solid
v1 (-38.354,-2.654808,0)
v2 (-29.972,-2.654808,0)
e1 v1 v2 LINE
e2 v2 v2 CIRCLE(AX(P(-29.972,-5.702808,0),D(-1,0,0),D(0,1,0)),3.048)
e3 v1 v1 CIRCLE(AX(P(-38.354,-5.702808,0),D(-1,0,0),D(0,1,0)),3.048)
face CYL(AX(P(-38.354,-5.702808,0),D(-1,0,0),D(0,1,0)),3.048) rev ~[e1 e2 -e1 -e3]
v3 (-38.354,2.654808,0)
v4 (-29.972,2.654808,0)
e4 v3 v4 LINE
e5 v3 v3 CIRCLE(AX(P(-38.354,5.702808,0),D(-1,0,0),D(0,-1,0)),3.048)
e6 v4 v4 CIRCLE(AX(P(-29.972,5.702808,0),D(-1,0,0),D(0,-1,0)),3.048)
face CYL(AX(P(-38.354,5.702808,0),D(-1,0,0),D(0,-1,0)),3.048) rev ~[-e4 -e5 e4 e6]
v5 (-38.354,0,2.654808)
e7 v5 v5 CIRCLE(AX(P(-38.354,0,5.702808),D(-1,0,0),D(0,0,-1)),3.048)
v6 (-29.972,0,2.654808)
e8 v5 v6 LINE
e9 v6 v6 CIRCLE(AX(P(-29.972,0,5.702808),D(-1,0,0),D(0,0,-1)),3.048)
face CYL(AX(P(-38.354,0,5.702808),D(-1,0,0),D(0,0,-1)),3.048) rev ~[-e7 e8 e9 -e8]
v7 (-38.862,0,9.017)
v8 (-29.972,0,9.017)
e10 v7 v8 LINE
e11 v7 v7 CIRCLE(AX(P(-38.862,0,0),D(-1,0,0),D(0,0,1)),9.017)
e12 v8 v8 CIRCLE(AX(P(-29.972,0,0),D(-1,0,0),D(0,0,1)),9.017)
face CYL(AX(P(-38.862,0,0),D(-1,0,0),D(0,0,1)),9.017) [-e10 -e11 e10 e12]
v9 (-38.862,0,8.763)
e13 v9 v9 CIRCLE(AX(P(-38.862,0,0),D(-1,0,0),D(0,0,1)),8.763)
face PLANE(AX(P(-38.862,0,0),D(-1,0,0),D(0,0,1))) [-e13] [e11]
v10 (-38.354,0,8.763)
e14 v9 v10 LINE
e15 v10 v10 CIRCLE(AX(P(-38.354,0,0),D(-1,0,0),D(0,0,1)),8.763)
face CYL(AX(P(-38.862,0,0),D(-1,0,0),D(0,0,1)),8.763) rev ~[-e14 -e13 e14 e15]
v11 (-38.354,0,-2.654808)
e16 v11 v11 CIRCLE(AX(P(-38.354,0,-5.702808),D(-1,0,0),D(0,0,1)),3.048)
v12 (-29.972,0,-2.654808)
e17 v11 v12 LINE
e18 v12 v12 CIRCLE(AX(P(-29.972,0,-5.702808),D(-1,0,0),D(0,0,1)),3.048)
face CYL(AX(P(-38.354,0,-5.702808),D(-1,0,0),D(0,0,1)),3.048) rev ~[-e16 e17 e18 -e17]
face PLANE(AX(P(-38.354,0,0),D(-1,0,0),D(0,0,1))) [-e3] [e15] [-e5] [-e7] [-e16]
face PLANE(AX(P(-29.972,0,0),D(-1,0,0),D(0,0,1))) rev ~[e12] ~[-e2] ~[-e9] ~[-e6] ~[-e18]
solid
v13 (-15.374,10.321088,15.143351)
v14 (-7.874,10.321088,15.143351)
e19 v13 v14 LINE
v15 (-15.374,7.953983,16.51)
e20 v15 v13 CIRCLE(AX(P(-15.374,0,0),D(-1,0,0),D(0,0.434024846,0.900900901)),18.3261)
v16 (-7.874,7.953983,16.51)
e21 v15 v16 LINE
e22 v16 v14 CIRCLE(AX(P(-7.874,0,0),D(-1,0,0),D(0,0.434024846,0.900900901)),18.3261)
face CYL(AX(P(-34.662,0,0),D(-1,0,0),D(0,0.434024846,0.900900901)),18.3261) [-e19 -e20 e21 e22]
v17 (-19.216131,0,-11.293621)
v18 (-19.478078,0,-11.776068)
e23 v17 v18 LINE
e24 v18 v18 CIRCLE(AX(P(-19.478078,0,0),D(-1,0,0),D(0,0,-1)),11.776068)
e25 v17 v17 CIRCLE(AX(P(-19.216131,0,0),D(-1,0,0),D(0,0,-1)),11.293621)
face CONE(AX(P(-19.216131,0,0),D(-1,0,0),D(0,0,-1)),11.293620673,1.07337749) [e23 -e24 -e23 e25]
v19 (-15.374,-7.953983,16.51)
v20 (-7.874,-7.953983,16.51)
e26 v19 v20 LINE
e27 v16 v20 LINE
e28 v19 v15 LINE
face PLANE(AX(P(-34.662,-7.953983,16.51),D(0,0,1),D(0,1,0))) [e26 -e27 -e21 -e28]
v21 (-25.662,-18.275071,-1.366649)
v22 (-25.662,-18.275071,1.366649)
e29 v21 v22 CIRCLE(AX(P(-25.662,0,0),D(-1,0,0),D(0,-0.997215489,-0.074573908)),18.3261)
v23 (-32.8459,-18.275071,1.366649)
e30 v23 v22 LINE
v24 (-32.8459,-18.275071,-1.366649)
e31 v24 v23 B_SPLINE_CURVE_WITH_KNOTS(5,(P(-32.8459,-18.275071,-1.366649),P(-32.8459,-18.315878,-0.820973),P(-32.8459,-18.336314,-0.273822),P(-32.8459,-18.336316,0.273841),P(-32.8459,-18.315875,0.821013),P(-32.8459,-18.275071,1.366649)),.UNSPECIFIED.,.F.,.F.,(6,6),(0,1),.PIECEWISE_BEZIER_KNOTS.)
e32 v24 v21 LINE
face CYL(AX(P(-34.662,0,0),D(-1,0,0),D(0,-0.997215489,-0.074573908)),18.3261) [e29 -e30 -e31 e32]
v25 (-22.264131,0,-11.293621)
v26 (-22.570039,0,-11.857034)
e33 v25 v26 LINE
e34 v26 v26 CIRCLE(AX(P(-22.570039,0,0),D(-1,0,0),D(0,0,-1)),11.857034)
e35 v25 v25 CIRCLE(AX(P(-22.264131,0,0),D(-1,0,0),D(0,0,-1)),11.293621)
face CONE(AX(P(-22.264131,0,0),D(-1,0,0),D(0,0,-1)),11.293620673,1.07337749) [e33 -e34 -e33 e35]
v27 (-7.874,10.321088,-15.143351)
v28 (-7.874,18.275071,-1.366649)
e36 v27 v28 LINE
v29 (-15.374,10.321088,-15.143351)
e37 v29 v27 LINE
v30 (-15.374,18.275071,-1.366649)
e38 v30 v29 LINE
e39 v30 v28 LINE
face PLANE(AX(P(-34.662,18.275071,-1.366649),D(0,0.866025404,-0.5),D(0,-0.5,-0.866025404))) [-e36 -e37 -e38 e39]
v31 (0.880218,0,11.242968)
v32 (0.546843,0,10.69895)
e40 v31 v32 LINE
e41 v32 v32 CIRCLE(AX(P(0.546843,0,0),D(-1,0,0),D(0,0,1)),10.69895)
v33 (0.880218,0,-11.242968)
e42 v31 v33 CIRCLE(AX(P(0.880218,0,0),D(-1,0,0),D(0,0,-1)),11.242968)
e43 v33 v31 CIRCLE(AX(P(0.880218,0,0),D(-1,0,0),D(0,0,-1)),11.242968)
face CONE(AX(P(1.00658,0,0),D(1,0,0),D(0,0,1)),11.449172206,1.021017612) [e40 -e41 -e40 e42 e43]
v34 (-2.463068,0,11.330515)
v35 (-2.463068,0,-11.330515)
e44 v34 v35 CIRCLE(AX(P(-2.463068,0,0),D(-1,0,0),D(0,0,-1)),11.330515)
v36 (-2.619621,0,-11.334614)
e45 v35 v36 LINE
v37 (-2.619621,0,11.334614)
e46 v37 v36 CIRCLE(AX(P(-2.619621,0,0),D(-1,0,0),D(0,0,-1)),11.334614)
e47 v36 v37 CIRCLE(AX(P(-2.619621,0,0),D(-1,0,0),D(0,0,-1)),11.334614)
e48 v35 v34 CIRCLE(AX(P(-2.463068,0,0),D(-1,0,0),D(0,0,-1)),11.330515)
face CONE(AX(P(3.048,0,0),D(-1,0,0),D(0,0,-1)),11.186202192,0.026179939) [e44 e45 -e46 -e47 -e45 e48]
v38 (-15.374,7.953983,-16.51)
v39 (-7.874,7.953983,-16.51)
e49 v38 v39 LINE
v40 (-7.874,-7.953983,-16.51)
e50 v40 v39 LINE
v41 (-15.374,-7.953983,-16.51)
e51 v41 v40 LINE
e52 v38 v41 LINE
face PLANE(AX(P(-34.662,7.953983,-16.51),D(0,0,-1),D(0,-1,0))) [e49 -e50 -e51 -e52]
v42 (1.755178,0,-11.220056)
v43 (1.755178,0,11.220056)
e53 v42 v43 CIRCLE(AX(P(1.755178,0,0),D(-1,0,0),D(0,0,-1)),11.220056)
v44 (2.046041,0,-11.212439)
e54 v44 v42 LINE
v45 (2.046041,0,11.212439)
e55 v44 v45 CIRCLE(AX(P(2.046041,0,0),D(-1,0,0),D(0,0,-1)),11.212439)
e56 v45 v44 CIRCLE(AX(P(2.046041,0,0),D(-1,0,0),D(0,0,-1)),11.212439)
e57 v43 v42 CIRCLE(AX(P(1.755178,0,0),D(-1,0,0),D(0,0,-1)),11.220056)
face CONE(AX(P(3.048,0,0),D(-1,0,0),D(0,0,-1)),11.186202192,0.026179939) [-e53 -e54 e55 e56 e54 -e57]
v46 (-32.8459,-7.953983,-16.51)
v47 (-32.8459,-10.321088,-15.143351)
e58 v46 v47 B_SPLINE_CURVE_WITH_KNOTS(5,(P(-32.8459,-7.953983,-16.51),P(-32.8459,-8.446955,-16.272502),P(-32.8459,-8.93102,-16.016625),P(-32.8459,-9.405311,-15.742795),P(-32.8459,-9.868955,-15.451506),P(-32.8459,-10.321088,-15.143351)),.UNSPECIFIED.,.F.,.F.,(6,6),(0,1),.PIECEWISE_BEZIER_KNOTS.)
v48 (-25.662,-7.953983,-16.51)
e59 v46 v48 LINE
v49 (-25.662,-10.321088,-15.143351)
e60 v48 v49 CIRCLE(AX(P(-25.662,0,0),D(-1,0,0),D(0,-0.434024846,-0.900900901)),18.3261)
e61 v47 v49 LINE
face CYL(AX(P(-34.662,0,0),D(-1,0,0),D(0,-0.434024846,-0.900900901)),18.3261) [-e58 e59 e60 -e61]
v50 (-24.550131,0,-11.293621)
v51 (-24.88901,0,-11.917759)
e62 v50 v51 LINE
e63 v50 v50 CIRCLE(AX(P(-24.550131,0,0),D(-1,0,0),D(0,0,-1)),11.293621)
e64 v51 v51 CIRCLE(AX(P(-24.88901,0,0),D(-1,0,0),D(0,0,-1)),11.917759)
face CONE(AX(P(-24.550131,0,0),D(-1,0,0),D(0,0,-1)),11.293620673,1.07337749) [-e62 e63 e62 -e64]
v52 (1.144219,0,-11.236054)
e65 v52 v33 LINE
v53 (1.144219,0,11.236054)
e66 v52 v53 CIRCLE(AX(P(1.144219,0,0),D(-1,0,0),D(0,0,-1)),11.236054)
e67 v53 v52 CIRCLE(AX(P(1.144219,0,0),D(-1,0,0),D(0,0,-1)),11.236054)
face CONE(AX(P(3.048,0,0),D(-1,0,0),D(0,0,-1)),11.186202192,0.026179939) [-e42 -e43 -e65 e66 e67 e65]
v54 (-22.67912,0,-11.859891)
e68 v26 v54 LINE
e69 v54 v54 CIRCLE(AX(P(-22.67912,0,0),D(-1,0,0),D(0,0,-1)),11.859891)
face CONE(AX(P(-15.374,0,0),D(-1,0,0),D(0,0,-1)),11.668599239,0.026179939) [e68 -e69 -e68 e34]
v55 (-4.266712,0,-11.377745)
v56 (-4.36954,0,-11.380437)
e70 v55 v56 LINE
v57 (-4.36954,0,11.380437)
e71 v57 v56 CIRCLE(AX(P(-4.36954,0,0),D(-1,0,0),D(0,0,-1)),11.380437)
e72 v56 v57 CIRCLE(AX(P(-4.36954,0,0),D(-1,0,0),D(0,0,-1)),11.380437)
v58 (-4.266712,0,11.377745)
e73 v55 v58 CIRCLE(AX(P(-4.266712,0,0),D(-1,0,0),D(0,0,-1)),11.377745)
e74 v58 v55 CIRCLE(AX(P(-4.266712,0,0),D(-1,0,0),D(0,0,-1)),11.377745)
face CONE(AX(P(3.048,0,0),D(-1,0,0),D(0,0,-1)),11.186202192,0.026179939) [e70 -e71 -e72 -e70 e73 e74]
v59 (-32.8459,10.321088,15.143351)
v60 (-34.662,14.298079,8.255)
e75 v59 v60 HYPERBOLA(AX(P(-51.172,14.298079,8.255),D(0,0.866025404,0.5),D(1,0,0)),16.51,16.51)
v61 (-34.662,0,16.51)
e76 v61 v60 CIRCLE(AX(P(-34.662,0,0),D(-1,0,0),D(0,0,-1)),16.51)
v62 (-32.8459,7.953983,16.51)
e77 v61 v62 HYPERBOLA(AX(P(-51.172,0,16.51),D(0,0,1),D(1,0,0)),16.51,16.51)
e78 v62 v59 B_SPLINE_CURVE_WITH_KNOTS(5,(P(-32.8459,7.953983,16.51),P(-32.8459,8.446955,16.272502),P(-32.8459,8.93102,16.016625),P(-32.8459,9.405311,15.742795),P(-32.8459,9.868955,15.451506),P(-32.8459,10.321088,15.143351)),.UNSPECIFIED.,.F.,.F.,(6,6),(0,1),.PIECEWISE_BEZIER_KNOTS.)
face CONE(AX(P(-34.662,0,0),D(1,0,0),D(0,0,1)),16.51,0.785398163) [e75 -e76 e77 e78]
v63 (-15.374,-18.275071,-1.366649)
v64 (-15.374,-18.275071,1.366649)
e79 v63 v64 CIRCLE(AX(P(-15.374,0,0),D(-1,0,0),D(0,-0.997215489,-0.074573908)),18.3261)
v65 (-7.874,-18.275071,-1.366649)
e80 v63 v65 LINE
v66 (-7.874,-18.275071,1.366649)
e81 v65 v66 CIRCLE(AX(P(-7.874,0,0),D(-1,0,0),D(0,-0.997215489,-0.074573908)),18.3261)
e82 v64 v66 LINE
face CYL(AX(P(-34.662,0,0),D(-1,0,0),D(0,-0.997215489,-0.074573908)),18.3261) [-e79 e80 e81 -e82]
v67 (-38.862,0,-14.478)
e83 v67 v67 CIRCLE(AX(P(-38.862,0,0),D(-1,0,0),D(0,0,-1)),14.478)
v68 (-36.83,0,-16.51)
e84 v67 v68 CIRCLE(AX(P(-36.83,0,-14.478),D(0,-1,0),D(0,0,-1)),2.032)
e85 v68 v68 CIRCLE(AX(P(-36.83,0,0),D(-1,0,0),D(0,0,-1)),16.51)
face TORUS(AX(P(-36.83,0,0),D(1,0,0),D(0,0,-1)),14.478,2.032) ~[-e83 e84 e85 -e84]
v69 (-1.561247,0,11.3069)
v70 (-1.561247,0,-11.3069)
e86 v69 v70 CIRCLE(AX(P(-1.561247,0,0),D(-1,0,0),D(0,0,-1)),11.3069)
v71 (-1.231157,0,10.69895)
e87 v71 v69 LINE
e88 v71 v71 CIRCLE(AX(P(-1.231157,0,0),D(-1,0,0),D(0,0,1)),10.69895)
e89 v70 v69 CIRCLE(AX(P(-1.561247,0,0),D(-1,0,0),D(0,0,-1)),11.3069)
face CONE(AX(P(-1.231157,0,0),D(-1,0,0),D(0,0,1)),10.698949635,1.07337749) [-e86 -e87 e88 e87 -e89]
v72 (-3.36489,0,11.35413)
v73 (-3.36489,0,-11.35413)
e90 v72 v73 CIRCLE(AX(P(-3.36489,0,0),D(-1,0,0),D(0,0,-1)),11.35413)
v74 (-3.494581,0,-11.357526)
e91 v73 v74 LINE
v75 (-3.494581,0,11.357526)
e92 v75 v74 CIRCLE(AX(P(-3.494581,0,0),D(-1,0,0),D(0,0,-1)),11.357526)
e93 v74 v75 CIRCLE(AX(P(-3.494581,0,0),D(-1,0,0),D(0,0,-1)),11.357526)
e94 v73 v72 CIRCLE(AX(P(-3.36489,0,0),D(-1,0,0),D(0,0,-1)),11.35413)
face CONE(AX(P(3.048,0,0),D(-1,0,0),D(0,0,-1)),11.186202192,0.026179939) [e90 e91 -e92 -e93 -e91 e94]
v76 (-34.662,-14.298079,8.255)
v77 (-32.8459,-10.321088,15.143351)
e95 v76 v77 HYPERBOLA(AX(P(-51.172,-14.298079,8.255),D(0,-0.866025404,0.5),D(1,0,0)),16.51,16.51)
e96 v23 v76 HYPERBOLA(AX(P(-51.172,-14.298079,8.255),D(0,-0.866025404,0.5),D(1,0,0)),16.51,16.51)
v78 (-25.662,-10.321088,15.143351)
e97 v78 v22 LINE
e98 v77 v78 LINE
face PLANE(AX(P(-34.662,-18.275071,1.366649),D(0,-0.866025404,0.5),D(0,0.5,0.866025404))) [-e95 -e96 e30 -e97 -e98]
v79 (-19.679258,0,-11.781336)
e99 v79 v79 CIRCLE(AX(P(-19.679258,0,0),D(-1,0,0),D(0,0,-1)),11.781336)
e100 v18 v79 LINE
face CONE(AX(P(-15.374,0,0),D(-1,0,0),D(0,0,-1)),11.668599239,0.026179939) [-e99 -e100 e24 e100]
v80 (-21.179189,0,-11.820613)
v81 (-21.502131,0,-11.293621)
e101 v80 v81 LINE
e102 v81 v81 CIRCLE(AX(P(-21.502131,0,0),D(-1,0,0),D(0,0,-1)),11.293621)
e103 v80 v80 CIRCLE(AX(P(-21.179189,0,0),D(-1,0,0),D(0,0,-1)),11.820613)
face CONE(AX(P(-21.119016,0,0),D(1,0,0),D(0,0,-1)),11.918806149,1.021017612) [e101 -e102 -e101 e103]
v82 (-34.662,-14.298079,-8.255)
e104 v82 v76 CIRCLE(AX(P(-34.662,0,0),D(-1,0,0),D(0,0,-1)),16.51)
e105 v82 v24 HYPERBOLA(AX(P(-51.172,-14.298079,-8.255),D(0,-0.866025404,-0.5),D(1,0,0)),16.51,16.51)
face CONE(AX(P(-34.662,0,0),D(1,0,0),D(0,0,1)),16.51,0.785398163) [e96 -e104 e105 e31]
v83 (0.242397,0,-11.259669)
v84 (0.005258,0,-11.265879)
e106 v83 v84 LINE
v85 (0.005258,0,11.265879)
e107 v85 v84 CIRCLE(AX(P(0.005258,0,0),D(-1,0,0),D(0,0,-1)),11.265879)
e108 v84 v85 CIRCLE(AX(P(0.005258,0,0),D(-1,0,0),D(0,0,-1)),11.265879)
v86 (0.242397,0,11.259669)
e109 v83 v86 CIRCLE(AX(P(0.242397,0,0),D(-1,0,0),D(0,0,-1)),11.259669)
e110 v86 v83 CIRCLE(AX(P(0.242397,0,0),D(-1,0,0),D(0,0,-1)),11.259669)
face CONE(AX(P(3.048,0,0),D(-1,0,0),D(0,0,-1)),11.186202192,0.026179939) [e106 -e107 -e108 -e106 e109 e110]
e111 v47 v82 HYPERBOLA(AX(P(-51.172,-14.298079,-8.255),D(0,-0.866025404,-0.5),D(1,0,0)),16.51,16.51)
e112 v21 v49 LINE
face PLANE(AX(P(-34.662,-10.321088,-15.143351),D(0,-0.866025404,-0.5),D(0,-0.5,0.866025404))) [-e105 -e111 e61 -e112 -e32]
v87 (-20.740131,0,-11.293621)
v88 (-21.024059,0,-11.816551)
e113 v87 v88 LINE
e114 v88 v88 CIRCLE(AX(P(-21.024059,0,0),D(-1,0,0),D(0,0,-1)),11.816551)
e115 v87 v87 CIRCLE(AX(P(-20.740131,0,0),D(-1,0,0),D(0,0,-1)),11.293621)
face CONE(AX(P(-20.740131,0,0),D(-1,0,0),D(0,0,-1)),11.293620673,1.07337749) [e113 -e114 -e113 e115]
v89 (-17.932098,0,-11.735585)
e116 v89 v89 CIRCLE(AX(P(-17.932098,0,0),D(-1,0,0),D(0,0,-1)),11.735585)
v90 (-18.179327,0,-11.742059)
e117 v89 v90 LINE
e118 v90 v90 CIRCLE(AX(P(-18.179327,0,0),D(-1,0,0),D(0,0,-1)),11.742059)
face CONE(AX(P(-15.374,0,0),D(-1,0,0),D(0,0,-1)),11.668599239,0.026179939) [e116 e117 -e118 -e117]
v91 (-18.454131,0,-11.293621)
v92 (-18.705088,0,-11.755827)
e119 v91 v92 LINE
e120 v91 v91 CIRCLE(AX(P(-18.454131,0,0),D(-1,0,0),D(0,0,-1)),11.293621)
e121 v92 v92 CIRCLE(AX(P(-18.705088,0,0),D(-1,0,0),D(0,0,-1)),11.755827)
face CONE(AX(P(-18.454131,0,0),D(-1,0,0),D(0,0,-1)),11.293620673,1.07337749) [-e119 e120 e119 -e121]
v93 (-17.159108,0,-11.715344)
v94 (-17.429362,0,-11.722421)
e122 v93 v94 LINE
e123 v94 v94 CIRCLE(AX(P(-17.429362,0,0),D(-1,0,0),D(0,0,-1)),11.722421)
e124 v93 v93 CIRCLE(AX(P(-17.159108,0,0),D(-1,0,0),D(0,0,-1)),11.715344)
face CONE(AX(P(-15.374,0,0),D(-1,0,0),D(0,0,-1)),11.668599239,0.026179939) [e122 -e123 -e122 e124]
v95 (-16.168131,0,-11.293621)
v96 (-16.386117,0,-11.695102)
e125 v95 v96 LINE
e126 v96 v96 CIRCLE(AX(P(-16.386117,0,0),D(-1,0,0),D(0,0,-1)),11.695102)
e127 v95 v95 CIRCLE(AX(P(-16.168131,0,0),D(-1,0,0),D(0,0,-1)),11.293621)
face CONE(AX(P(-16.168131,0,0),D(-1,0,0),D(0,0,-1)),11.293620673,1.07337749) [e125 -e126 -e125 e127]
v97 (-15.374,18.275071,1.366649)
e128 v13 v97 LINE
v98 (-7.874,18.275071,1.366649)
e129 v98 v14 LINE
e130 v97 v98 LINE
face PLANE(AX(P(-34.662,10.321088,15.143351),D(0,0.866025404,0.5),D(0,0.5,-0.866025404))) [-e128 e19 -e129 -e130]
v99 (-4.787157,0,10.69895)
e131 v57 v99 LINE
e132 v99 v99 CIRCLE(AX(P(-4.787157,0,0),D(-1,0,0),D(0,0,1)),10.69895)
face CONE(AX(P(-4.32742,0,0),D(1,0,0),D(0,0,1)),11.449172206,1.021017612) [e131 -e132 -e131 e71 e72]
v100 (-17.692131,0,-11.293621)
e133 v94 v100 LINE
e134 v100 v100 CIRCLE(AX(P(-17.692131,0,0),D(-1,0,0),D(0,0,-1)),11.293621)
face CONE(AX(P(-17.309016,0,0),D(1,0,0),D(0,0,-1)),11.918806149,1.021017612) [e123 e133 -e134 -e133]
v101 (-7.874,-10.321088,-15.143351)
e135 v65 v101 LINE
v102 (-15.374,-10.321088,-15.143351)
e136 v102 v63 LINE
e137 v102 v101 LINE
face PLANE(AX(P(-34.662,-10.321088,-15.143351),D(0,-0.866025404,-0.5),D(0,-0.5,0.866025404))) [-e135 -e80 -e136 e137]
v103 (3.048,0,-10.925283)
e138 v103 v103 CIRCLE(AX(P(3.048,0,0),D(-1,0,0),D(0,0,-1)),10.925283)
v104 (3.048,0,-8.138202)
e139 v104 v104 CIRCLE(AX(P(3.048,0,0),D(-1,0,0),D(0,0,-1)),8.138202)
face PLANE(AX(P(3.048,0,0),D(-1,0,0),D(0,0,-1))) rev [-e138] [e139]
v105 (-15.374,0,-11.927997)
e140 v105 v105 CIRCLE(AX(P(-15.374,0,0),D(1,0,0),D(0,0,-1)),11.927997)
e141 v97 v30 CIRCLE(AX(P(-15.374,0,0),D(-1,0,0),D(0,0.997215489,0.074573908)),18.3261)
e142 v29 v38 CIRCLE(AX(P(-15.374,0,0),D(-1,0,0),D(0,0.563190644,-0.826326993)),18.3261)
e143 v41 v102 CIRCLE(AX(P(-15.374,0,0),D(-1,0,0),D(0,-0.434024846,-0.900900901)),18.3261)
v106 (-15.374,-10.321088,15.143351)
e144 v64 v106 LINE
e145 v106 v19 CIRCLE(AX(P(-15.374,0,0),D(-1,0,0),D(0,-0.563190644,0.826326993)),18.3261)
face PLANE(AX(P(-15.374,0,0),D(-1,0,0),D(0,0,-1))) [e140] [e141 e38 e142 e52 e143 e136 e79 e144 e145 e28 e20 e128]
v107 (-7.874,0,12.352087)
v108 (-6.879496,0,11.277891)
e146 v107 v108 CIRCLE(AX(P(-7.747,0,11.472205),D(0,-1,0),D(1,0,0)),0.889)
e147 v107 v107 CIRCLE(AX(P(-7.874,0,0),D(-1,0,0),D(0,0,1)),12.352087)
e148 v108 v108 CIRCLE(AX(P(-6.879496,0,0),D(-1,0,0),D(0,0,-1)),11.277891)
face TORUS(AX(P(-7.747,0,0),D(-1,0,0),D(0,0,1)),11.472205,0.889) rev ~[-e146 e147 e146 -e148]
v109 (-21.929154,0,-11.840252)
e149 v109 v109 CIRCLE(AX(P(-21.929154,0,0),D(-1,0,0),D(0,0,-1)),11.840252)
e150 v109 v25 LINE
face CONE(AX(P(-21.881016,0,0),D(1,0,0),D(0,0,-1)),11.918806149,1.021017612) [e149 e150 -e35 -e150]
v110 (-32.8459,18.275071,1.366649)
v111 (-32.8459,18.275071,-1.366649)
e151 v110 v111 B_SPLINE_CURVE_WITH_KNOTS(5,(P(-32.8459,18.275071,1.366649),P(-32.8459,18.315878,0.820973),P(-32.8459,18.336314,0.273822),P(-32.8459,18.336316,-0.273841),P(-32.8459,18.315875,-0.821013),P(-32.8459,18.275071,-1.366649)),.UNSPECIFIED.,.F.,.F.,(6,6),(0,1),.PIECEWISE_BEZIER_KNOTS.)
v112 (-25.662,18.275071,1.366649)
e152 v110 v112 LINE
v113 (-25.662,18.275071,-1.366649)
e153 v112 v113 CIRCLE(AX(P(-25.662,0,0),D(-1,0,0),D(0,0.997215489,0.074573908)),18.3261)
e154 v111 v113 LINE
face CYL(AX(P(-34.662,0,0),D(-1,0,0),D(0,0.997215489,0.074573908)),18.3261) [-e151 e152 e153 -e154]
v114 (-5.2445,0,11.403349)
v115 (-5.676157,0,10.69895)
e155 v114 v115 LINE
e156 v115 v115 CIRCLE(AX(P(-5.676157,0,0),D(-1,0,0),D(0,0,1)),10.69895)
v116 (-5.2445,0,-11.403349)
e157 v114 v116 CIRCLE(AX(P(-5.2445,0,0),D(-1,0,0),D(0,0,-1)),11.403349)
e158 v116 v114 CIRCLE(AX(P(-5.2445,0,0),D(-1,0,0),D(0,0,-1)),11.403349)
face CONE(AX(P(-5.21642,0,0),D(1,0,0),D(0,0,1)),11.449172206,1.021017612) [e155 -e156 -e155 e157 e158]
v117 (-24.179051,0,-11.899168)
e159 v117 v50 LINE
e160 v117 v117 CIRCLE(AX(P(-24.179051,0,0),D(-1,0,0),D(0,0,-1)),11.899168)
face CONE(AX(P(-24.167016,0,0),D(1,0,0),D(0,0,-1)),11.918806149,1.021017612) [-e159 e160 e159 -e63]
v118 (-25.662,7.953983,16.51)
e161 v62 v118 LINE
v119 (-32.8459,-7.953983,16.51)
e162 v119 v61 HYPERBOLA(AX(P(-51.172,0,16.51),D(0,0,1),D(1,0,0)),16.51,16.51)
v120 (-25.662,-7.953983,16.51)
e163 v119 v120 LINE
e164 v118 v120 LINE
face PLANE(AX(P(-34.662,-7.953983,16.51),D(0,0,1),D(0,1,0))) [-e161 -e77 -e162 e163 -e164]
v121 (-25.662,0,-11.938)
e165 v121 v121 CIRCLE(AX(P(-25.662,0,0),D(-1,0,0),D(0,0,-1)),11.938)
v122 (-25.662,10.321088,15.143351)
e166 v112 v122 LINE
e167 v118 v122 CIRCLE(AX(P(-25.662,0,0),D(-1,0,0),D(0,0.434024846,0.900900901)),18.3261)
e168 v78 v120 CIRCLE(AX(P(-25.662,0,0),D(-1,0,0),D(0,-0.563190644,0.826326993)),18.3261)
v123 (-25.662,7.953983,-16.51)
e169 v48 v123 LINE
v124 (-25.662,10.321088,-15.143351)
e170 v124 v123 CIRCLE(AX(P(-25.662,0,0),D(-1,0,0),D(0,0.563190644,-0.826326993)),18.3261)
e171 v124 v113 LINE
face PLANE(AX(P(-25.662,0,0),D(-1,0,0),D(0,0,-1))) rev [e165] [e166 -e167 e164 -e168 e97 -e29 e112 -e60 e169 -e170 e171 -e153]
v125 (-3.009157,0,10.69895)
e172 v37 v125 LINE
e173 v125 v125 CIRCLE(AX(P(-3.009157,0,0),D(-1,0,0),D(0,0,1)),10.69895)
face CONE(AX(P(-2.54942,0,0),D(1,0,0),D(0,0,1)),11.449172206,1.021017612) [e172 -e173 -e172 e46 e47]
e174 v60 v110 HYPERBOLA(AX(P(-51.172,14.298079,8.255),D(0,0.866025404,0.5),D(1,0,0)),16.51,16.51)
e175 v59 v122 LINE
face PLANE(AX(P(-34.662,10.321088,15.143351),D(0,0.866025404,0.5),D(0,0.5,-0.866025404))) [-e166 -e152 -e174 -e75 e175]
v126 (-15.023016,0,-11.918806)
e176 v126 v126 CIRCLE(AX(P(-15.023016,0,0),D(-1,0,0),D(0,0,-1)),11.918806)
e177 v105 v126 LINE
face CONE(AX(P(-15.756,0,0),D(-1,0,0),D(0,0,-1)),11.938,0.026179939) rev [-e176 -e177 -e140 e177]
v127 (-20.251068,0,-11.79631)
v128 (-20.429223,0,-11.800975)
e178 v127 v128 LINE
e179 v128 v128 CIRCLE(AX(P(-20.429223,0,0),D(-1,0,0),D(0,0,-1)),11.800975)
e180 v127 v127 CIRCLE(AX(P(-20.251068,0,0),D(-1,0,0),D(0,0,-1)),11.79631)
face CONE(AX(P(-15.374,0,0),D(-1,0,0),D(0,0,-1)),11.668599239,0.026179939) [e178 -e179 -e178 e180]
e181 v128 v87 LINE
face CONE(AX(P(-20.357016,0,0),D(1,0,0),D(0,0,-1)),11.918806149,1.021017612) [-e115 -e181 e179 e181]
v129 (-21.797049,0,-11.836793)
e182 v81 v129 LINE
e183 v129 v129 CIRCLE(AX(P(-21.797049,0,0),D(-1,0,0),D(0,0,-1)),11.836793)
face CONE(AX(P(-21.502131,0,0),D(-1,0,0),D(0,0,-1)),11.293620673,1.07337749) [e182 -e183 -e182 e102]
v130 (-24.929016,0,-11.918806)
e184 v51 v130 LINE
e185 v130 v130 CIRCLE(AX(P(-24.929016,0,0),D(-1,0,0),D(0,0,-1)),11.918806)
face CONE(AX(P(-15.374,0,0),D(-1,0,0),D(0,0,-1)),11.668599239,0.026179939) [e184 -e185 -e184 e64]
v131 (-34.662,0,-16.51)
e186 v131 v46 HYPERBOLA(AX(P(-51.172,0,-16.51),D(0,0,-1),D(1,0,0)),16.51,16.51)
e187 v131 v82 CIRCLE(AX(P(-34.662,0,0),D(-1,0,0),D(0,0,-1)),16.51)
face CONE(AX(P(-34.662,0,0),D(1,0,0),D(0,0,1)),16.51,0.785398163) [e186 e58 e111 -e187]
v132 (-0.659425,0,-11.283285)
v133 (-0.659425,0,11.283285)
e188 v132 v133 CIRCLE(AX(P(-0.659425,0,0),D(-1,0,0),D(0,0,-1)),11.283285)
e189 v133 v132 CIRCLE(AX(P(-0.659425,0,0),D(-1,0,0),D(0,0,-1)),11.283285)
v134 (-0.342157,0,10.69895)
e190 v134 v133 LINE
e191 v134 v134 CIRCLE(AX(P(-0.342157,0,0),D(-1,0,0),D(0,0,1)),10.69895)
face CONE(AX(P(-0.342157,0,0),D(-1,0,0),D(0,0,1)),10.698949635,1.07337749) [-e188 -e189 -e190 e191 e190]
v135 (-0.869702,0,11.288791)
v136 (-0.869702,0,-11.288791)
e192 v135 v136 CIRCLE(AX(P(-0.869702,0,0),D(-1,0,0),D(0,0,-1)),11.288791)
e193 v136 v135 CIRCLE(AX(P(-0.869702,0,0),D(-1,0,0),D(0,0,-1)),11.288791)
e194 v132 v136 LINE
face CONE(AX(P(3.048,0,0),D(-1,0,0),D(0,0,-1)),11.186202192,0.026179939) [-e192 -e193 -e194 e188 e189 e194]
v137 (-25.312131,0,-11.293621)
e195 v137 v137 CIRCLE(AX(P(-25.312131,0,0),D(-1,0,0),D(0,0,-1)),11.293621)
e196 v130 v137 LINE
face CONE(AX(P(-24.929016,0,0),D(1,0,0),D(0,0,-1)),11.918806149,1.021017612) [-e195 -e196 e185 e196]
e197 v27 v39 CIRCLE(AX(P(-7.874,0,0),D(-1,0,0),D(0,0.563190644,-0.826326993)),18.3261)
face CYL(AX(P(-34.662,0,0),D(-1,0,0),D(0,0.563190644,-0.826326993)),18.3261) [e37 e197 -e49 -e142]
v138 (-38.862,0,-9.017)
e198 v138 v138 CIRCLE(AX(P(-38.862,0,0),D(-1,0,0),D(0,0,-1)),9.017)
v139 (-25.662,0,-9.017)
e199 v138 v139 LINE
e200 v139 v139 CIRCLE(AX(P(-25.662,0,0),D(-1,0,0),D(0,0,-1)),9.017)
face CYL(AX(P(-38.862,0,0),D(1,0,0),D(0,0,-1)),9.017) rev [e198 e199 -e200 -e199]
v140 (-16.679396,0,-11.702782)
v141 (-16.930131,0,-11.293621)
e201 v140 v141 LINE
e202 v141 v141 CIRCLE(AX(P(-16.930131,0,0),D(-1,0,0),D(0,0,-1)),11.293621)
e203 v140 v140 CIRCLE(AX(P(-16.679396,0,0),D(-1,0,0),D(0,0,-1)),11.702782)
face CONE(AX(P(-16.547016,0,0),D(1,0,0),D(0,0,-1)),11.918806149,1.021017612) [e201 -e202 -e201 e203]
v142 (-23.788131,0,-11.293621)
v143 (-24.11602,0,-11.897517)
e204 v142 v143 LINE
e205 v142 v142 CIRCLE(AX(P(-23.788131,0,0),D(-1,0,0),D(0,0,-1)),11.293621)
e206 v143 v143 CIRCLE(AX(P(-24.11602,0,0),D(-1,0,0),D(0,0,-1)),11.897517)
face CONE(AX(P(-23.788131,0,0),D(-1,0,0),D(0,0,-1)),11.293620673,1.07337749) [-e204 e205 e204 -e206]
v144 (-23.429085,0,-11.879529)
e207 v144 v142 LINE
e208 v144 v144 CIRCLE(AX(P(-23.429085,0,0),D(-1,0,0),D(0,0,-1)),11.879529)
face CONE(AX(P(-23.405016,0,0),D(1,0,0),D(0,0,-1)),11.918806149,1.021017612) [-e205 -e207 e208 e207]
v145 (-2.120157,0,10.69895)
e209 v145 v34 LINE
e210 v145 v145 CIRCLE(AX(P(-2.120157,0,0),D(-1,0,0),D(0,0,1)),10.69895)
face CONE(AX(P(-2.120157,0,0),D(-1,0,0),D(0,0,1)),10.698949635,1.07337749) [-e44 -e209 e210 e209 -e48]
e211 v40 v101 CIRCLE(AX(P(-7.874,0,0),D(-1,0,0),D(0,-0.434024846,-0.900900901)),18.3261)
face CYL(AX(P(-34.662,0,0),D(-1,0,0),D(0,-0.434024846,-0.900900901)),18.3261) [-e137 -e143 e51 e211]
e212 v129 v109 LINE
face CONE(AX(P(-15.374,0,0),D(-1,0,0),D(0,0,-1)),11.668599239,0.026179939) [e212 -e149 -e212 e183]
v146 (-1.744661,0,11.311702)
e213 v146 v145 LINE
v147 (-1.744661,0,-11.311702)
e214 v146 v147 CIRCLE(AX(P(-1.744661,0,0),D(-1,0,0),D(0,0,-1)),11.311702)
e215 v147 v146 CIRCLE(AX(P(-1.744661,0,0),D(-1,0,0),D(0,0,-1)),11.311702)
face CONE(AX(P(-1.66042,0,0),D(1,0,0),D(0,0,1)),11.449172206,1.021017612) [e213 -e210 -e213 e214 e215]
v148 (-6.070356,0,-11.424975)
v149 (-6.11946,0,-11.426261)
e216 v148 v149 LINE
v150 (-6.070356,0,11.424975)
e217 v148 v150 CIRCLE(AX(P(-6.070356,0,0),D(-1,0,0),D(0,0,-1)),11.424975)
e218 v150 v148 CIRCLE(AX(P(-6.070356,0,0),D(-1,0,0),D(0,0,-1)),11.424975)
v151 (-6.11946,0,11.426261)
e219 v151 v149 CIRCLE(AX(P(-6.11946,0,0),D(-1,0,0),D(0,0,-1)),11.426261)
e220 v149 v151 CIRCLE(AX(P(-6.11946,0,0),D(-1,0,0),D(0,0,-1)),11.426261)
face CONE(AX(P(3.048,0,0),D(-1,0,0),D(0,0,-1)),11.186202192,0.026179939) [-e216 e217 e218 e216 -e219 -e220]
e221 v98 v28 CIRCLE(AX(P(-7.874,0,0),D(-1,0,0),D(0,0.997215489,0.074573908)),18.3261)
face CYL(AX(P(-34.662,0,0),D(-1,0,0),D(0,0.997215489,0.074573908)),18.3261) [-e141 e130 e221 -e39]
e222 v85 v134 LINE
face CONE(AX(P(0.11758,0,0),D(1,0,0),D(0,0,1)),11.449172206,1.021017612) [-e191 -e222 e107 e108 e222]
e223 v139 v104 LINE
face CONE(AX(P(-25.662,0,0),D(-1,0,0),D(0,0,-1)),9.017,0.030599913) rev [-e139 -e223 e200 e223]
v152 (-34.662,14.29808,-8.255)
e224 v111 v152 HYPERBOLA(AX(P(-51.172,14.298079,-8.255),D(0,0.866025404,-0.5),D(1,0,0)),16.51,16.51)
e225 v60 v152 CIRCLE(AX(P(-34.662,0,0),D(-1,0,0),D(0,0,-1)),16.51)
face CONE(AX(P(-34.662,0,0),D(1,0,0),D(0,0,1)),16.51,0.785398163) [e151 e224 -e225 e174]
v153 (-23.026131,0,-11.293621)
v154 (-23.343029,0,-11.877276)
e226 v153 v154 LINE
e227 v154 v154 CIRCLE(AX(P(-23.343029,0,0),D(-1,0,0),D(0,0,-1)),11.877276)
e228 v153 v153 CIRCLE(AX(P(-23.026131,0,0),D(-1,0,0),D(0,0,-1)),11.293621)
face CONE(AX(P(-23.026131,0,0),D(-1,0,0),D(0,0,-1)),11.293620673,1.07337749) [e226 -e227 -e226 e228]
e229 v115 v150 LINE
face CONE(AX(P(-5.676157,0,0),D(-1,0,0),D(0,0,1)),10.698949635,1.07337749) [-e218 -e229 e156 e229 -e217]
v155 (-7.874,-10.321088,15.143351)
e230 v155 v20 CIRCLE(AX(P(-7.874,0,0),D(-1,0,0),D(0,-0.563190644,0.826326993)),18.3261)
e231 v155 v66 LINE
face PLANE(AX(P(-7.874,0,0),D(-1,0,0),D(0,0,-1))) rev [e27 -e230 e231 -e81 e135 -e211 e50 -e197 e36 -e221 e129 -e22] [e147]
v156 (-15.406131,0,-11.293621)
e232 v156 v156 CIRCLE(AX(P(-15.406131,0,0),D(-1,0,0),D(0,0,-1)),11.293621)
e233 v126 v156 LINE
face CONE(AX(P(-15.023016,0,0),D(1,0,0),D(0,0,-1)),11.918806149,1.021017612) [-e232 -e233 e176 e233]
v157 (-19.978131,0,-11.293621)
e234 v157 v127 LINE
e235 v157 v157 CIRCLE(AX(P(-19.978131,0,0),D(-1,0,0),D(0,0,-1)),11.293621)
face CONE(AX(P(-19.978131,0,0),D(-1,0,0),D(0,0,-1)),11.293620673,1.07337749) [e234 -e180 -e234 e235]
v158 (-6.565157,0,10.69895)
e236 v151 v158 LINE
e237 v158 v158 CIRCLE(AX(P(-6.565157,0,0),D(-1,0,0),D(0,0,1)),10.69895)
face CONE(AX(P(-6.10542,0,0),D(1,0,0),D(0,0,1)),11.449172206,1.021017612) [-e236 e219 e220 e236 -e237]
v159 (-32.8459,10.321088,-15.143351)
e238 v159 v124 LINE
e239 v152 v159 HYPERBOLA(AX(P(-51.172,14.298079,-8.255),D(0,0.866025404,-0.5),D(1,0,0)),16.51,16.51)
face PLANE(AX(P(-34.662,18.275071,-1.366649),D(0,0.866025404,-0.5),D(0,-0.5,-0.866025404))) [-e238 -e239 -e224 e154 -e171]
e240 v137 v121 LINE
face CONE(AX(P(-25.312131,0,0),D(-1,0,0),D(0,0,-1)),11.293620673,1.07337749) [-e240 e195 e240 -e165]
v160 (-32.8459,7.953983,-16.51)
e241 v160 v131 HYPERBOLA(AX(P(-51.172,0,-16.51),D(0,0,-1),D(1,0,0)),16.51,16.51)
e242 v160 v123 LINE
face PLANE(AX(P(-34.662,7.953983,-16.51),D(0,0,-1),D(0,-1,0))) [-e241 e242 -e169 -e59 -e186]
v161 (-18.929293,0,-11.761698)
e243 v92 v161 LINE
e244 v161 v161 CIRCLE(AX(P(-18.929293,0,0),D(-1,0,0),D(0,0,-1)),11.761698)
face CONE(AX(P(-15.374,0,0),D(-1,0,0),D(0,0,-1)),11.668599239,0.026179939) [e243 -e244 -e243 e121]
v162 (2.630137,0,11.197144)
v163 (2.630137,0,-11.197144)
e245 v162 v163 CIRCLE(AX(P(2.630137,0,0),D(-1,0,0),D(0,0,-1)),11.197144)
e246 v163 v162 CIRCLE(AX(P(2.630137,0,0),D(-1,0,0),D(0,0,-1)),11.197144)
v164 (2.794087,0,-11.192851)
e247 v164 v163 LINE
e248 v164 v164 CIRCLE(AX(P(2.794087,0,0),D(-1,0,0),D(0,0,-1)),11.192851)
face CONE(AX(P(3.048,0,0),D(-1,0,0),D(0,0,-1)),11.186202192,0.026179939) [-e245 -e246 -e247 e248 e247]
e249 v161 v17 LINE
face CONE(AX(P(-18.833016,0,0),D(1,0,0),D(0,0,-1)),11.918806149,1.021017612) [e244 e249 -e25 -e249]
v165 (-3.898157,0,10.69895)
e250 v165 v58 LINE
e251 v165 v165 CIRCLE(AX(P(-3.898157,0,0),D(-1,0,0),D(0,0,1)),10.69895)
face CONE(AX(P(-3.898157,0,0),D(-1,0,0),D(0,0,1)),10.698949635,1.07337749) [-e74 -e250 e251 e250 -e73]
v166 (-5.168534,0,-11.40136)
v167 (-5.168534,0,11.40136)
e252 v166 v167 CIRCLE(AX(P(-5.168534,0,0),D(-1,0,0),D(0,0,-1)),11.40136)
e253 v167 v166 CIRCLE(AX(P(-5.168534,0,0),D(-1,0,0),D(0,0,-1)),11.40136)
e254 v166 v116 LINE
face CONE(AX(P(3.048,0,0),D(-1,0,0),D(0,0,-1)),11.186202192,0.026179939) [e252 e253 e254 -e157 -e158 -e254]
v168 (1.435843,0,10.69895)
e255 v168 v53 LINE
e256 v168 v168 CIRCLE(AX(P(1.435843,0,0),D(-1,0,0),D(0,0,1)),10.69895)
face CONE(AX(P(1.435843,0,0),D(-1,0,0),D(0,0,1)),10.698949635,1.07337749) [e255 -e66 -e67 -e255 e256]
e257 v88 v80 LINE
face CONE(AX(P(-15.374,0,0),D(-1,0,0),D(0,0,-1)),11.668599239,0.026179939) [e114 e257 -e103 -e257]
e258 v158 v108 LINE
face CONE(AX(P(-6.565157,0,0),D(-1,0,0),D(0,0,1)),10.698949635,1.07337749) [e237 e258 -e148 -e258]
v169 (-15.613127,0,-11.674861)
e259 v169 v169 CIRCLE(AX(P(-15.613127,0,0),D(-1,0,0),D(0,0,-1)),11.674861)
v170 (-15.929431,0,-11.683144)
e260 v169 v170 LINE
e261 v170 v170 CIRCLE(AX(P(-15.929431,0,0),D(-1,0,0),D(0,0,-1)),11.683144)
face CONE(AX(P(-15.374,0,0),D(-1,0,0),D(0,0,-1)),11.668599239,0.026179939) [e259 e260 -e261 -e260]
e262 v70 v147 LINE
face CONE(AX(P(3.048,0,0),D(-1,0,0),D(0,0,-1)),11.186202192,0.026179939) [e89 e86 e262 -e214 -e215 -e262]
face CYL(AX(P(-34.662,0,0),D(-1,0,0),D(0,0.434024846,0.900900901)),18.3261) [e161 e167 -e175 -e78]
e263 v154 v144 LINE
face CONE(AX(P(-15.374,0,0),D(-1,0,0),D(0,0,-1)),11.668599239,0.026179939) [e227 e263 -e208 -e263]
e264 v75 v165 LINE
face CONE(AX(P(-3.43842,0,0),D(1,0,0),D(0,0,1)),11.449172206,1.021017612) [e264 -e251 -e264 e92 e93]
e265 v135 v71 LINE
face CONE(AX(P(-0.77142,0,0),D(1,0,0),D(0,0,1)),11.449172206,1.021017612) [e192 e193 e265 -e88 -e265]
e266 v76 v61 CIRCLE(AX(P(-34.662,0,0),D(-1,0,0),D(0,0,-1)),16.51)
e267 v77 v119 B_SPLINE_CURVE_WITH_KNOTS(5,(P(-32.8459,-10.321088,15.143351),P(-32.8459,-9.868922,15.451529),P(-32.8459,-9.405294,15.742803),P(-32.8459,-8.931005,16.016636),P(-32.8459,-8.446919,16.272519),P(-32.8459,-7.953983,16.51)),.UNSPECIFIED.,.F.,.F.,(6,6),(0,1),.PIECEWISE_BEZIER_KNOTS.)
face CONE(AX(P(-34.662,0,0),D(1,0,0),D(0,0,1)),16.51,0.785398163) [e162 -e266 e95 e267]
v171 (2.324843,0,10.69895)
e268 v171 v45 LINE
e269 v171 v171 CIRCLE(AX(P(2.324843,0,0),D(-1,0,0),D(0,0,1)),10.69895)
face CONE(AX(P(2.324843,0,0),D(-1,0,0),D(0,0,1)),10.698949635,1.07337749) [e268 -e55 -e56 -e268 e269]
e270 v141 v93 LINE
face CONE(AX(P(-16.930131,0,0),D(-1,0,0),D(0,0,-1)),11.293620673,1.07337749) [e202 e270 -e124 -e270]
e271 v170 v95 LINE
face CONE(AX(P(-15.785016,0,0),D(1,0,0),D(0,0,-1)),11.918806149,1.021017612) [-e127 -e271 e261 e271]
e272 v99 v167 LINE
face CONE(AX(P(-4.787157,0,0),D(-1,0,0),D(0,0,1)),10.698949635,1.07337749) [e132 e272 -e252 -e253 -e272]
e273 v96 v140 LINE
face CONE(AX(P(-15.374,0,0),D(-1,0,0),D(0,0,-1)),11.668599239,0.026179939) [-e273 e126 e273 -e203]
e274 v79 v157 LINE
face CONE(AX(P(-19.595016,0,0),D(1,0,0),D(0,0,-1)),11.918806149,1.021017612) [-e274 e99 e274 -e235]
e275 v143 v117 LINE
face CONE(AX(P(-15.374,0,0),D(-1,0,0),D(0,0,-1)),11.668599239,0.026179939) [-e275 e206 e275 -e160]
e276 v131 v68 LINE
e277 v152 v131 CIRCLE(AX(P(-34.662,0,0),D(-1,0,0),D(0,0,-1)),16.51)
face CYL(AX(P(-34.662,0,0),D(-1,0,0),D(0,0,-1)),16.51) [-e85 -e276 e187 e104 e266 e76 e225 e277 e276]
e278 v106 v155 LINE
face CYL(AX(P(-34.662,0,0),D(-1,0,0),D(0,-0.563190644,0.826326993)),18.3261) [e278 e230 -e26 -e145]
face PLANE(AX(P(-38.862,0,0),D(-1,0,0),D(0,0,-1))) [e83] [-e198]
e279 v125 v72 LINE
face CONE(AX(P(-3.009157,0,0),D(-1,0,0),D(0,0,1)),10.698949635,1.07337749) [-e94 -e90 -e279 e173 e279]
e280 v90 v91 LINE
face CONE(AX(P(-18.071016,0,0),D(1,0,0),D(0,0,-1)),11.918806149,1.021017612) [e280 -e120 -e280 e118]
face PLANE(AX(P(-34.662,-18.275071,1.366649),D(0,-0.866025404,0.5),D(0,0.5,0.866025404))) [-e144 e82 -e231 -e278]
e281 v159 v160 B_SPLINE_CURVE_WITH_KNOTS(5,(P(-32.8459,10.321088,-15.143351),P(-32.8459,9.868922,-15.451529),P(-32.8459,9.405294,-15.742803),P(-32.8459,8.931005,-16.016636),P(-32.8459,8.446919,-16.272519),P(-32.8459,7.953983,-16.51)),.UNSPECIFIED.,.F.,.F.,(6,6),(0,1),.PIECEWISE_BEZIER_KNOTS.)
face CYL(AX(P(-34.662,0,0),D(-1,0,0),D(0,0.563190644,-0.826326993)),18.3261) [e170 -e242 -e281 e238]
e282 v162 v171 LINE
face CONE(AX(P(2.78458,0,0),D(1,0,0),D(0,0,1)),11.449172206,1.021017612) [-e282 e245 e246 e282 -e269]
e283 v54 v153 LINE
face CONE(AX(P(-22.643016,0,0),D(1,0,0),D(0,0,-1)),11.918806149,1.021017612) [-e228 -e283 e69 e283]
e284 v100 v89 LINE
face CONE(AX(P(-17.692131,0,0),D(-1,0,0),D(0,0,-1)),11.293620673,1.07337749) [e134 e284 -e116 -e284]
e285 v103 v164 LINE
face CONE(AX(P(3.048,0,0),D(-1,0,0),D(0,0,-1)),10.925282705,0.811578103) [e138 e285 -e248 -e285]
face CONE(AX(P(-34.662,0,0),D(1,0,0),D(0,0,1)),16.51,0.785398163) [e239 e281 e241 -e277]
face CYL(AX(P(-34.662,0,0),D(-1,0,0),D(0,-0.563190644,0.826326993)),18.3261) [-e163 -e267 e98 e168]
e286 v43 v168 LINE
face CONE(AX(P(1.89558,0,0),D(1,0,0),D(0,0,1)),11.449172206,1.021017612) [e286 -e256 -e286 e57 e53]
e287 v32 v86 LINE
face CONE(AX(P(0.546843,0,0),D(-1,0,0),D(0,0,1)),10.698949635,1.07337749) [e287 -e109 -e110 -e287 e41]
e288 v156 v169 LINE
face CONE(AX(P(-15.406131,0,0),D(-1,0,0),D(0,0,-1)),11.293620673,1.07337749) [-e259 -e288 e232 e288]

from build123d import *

# Parameters (mm, degrees)
SKETCH12_OUTSIDE_W = 88.514
SKETCH12_OUTSIDE_H = 88.514
CUT_EXTRUDE2_DEPTH = 38.71
FILLET4_R          = 2.032
SKETCH19_OUTSIDE_W = 55.962
SKETCH19_OUTSIDE_H = 59.594
SKETCH19_OUTSIDE_R = 16.51
CUT_EXTRUDE3_DEPTH = 3.99796
CUT_EXTRUDE3_DRAFT = -45
CHAMFER1_SIZE      = 0.260919487
CHAMFER1_SIZE2     = 0.254
SKETCH21_R         = 9.017
PLUG_DEPTH         = 8.89
SKETCH22_R         = 8.763
CUT_EXTRUDE4_DEPTH = 0.508
SKETCH27_R         = 3.048
PLUGHOLES_DEPTH    = 42.402
CIRPATTERN1_COUNT  = 4
LPATTERN1_COUNT    = 14
LPATTERN1_PITCH    = 0.762
LPATTERN2_COUNT    = 12
LPATTERN2_PITCH    = 0.889
SKETCH32_R         = 0.889


with BuildPart() as part:
    # Sketch10 → Revolve2 (revolve)
    with BuildSketch(Plane.XY, mode=Mode.PRIVATE) as revolve2_sk:
        Polygon((-38.862, 9.017), (-25.662, 9.017), (3.048, 8.138202192), (3.048, 11.186202192), (-7.874, 11.472204827), (-7.874, 33.02), (-15.374, 33.02), (-15.374, 11.668599239), (-25.662, 11.938), (-25.662, 33.02), (-34.662, 33.02), (-34.662, 16.51), (-38.862, 16.51), align=None)
    revolve(revolve2_sk.sketch.rotate(Axis((0, 0, 0), (-1, 0, 0)), 90), axis=Axis((0, 0, 0), (-1, 0, 0)))  # turned: the seam where the file's is

    # Sketch12 outside → Cut-Extrude2 (cut, through all)
    with BuildSketch(Plane.ZY.offset(34.662)):
        Rectangle(SKETCH12_OUTSIDE_W, SKETCH12_OUTSIDE_H)
        with BuildLine():
            Line((-1.366648898, 18.27507078), (-15.143351102, 10.321088053))
            ThreePointArc((-15.143351102, 10.321088053), (-15.870868152, 9.16305), (-16.51, 7.953982726))
            Line((-16.51, 7.953982726), (-16.51, -7.953982726))
            ThreePointArc((-16.51, -7.953982726), (-15.870868152, -9.16305), (-15.143351102, -10.321088053))
            Line((-15.143351102, -10.321088053), (-1.366648898, -18.27507078))
            ThreePointArc((-1.366648898, -18.27507078), (0, -18.3261), (1.366648898, -18.27507078))
            Line((1.366648898, -18.27507078), (15.143351102, -10.321088053))
            ThreePointArc((15.143351102, -10.321088053), (15.870868152, -9.16305), (16.51, -7.953982726))
            Line((16.51, -7.953982726), (16.51, 7.953982726))
            ThreePointArc((16.51, 7.953982726), (15.870868152, 9.16305), (15.143351102, 10.321088053))
            Line((15.143351102, 10.321088053), (1.366648898, 18.27507078))
            ThreePointArc((1.366648898, 18.27507078), (0, 18.3261), (-1.366648898, 18.27507078))
        make_face(mode=Mode.SUBTRACT)
    extrude(amount=-CUT_EXTRUDE2_DEPTH, mode=Mode.SUBTRACT)

    # Fillet4
    fillet4_edges = [part.edges().sort_by_distance(p)[0] for p in [
        (-38.862, 0, 16.51),
    ]]
    fillet(fillet4_edges, radius=FILLET4_R)


with BuildPart() as cut_extrude3_tool:
    # Sketch19 outside → Cut-Extrude3 (with draft: the straight prism first)
    with BuildSketch(Plane.ZY.offset(34.662)):
        Rectangle(SKETCH19_OUTSIDE_W, SKETCH19_OUTSIDE_H)
        Circle(SKETCH19_OUTSIDE_R, mode=Mode.SUBTRACT)
    extrude(amount=-CUT_EXTRUDE3_DEPTH)
    # Cut-Extrude3: the draft: its side faces are tilted about the plane it starts from
    cut_extrude3_sides = [cut_extrude3_tool.faces().sort_by_distance(p)[0] for p in [
        (-32.66302, -29.797, 0),
        (-32.66302, 0, 27.981),
        (-32.66302, 29.797, 0),
        (-32.66302, 0, -27.981),
        (-32.66302, 0, -16.51),
    ]]
    draft(cut_extrude3_sides, Plane.ZY.offset(34.662), CUT_EXTRUDE3_DRAFT)


with BuildPart() as part_1:
    add(part.part)

    # Cut-Extrude3: cut by cut_extrude3_tool
    add(cut_extrude3_tool.part, mode=Mode.SUBTRACT)

    # Chamfer1
    chamfer1_edges = [part_1.edges().sort_by_distance(p)[0] for p in [
        (3.048, 0, 11.186202192),
    ]]
    chamfer1_side = [part_1.faces().sort_by_distance(p)[0] for p in [
        (3.048, 0, 8.454595769),
    ]]
    chamfer(chamfer1_edges, length=CHAMFER1_SIZE, length2=CHAMFER1_SIZE2, reference=chamfer1_side[0])

    # Sketch29 → Cut-Revolve1 (revolve, cut)
    with BuildSketch(Plane.XY, mode=Mode.PRIVATE) as cut_revolve1_sk:
        Polygon((-25.662, 11.938), (-24.929016419, 11.918806149), (-25.312130572, 11.293620673), align=None)
    cut_revolve1 = revolve(cut_revolve1_sk.sketch.rotate(Axis((0, 0, 0), (-1, 0, 0)), 90), axis=Axis((0, 0, 0), (-1, 0, 0)), mode=Mode.SUBTRACT)  # turned: the seam where the file's is

    # LPattern1: Cut-Revolve1 ×14
    with Locations(*[(i * LPATTERN1_PITCH, 0, 0) for i in range(1, LPATTERN1_COUNT)]):
        add(cut_revolve1, mode=Mode.SUBTRACT)

    # Sketch30 → Cut-Revolve2 (revolve, cut)
    with BuildSketch(Plane.XY, mode=Mode.PRIVATE) as cut_revolve2_sk:
        Polygon((-7.874, 11.472204827), (-6.994419703, 11.449172206), (-7.454156686, 10.698949635), align=None)
    cut_revolve2 = revolve(cut_revolve2_sk.sketch.rotate(Axis((0, 0, 0), (-1, 0, 0)), 270), axis=Axis((0, 0, 0), (-1, 0, 0)), mode=Mode.SUBTRACT)  # turned: the seam where the file's is

    # LPattern2: Cut-Revolve2 ×12
    with Locations(*[(i * LPATTERN2_PITCH, 0, 0) for i in range(1, LPATTERN2_COUNT)]):
        add(cut_revolve2, mode=Mode.SUBTRACT)

    # Sketch32 → Cut-Revolve3 (revolve, cut)
    with BuildSketch(Plane.XY, mode=Mode.PRIVATE) as cut_revolve3_sk:
        with Locations((-7.747, 11.472204827)):
            Circle(SKETCH32_R)
    revolve(cut_revolve3_sk.sketch.rotate(Axis((0, 0, 0), (-1, 0, 0)), 270), axis=Axis((0, 0, 0), (-1, 0, 0)), mode=Mode.SUBTRACT)  # turned: the seam where the file's is


with BuildPart() as body_2:
    # Sketch21 → plug (new body)
    with BuildSketch(Plane.ZY.offset(38.862)):
        Circle(SKETCH21_R)
    extrude(amount=-PLUG_DEPTH)

    # Sketch22 → Cut-Extrude4 (cut)
    with BuildSketch(Plane.ZY.offset(38.862)):
        Circle(SKETCH22_R)
    extrude(amount=-CUT_EXTRUDE4_DEPTH, mode=Mode.SUBTRACT)

    # Sketch27 → plugholes (cut, through all)
    with BuildSketch(Plane.ZY.offset(38.354)):
        with Locations((-5.702808, 0)):
            Circle(SKETCH27_R)
    plugholes = extrude(amount=-PLUGHOLES_DEPTH, mode=Mode.SUBTRACT)

    # CirPattern1: plugholes ×4 about axis
    cirpattern1_axis = Axis((0, 0, 0), (1, 0, 0))
    for i in range(1, CIRPATTERN1_COUNT):
        add(plugholes.rotate(cirpattern1_axis, i * 360 / CIRPATTERN1_COUNT), mode=Mode.SUBTRACT)


solid = Compound([part_1.part, body_2.part])
